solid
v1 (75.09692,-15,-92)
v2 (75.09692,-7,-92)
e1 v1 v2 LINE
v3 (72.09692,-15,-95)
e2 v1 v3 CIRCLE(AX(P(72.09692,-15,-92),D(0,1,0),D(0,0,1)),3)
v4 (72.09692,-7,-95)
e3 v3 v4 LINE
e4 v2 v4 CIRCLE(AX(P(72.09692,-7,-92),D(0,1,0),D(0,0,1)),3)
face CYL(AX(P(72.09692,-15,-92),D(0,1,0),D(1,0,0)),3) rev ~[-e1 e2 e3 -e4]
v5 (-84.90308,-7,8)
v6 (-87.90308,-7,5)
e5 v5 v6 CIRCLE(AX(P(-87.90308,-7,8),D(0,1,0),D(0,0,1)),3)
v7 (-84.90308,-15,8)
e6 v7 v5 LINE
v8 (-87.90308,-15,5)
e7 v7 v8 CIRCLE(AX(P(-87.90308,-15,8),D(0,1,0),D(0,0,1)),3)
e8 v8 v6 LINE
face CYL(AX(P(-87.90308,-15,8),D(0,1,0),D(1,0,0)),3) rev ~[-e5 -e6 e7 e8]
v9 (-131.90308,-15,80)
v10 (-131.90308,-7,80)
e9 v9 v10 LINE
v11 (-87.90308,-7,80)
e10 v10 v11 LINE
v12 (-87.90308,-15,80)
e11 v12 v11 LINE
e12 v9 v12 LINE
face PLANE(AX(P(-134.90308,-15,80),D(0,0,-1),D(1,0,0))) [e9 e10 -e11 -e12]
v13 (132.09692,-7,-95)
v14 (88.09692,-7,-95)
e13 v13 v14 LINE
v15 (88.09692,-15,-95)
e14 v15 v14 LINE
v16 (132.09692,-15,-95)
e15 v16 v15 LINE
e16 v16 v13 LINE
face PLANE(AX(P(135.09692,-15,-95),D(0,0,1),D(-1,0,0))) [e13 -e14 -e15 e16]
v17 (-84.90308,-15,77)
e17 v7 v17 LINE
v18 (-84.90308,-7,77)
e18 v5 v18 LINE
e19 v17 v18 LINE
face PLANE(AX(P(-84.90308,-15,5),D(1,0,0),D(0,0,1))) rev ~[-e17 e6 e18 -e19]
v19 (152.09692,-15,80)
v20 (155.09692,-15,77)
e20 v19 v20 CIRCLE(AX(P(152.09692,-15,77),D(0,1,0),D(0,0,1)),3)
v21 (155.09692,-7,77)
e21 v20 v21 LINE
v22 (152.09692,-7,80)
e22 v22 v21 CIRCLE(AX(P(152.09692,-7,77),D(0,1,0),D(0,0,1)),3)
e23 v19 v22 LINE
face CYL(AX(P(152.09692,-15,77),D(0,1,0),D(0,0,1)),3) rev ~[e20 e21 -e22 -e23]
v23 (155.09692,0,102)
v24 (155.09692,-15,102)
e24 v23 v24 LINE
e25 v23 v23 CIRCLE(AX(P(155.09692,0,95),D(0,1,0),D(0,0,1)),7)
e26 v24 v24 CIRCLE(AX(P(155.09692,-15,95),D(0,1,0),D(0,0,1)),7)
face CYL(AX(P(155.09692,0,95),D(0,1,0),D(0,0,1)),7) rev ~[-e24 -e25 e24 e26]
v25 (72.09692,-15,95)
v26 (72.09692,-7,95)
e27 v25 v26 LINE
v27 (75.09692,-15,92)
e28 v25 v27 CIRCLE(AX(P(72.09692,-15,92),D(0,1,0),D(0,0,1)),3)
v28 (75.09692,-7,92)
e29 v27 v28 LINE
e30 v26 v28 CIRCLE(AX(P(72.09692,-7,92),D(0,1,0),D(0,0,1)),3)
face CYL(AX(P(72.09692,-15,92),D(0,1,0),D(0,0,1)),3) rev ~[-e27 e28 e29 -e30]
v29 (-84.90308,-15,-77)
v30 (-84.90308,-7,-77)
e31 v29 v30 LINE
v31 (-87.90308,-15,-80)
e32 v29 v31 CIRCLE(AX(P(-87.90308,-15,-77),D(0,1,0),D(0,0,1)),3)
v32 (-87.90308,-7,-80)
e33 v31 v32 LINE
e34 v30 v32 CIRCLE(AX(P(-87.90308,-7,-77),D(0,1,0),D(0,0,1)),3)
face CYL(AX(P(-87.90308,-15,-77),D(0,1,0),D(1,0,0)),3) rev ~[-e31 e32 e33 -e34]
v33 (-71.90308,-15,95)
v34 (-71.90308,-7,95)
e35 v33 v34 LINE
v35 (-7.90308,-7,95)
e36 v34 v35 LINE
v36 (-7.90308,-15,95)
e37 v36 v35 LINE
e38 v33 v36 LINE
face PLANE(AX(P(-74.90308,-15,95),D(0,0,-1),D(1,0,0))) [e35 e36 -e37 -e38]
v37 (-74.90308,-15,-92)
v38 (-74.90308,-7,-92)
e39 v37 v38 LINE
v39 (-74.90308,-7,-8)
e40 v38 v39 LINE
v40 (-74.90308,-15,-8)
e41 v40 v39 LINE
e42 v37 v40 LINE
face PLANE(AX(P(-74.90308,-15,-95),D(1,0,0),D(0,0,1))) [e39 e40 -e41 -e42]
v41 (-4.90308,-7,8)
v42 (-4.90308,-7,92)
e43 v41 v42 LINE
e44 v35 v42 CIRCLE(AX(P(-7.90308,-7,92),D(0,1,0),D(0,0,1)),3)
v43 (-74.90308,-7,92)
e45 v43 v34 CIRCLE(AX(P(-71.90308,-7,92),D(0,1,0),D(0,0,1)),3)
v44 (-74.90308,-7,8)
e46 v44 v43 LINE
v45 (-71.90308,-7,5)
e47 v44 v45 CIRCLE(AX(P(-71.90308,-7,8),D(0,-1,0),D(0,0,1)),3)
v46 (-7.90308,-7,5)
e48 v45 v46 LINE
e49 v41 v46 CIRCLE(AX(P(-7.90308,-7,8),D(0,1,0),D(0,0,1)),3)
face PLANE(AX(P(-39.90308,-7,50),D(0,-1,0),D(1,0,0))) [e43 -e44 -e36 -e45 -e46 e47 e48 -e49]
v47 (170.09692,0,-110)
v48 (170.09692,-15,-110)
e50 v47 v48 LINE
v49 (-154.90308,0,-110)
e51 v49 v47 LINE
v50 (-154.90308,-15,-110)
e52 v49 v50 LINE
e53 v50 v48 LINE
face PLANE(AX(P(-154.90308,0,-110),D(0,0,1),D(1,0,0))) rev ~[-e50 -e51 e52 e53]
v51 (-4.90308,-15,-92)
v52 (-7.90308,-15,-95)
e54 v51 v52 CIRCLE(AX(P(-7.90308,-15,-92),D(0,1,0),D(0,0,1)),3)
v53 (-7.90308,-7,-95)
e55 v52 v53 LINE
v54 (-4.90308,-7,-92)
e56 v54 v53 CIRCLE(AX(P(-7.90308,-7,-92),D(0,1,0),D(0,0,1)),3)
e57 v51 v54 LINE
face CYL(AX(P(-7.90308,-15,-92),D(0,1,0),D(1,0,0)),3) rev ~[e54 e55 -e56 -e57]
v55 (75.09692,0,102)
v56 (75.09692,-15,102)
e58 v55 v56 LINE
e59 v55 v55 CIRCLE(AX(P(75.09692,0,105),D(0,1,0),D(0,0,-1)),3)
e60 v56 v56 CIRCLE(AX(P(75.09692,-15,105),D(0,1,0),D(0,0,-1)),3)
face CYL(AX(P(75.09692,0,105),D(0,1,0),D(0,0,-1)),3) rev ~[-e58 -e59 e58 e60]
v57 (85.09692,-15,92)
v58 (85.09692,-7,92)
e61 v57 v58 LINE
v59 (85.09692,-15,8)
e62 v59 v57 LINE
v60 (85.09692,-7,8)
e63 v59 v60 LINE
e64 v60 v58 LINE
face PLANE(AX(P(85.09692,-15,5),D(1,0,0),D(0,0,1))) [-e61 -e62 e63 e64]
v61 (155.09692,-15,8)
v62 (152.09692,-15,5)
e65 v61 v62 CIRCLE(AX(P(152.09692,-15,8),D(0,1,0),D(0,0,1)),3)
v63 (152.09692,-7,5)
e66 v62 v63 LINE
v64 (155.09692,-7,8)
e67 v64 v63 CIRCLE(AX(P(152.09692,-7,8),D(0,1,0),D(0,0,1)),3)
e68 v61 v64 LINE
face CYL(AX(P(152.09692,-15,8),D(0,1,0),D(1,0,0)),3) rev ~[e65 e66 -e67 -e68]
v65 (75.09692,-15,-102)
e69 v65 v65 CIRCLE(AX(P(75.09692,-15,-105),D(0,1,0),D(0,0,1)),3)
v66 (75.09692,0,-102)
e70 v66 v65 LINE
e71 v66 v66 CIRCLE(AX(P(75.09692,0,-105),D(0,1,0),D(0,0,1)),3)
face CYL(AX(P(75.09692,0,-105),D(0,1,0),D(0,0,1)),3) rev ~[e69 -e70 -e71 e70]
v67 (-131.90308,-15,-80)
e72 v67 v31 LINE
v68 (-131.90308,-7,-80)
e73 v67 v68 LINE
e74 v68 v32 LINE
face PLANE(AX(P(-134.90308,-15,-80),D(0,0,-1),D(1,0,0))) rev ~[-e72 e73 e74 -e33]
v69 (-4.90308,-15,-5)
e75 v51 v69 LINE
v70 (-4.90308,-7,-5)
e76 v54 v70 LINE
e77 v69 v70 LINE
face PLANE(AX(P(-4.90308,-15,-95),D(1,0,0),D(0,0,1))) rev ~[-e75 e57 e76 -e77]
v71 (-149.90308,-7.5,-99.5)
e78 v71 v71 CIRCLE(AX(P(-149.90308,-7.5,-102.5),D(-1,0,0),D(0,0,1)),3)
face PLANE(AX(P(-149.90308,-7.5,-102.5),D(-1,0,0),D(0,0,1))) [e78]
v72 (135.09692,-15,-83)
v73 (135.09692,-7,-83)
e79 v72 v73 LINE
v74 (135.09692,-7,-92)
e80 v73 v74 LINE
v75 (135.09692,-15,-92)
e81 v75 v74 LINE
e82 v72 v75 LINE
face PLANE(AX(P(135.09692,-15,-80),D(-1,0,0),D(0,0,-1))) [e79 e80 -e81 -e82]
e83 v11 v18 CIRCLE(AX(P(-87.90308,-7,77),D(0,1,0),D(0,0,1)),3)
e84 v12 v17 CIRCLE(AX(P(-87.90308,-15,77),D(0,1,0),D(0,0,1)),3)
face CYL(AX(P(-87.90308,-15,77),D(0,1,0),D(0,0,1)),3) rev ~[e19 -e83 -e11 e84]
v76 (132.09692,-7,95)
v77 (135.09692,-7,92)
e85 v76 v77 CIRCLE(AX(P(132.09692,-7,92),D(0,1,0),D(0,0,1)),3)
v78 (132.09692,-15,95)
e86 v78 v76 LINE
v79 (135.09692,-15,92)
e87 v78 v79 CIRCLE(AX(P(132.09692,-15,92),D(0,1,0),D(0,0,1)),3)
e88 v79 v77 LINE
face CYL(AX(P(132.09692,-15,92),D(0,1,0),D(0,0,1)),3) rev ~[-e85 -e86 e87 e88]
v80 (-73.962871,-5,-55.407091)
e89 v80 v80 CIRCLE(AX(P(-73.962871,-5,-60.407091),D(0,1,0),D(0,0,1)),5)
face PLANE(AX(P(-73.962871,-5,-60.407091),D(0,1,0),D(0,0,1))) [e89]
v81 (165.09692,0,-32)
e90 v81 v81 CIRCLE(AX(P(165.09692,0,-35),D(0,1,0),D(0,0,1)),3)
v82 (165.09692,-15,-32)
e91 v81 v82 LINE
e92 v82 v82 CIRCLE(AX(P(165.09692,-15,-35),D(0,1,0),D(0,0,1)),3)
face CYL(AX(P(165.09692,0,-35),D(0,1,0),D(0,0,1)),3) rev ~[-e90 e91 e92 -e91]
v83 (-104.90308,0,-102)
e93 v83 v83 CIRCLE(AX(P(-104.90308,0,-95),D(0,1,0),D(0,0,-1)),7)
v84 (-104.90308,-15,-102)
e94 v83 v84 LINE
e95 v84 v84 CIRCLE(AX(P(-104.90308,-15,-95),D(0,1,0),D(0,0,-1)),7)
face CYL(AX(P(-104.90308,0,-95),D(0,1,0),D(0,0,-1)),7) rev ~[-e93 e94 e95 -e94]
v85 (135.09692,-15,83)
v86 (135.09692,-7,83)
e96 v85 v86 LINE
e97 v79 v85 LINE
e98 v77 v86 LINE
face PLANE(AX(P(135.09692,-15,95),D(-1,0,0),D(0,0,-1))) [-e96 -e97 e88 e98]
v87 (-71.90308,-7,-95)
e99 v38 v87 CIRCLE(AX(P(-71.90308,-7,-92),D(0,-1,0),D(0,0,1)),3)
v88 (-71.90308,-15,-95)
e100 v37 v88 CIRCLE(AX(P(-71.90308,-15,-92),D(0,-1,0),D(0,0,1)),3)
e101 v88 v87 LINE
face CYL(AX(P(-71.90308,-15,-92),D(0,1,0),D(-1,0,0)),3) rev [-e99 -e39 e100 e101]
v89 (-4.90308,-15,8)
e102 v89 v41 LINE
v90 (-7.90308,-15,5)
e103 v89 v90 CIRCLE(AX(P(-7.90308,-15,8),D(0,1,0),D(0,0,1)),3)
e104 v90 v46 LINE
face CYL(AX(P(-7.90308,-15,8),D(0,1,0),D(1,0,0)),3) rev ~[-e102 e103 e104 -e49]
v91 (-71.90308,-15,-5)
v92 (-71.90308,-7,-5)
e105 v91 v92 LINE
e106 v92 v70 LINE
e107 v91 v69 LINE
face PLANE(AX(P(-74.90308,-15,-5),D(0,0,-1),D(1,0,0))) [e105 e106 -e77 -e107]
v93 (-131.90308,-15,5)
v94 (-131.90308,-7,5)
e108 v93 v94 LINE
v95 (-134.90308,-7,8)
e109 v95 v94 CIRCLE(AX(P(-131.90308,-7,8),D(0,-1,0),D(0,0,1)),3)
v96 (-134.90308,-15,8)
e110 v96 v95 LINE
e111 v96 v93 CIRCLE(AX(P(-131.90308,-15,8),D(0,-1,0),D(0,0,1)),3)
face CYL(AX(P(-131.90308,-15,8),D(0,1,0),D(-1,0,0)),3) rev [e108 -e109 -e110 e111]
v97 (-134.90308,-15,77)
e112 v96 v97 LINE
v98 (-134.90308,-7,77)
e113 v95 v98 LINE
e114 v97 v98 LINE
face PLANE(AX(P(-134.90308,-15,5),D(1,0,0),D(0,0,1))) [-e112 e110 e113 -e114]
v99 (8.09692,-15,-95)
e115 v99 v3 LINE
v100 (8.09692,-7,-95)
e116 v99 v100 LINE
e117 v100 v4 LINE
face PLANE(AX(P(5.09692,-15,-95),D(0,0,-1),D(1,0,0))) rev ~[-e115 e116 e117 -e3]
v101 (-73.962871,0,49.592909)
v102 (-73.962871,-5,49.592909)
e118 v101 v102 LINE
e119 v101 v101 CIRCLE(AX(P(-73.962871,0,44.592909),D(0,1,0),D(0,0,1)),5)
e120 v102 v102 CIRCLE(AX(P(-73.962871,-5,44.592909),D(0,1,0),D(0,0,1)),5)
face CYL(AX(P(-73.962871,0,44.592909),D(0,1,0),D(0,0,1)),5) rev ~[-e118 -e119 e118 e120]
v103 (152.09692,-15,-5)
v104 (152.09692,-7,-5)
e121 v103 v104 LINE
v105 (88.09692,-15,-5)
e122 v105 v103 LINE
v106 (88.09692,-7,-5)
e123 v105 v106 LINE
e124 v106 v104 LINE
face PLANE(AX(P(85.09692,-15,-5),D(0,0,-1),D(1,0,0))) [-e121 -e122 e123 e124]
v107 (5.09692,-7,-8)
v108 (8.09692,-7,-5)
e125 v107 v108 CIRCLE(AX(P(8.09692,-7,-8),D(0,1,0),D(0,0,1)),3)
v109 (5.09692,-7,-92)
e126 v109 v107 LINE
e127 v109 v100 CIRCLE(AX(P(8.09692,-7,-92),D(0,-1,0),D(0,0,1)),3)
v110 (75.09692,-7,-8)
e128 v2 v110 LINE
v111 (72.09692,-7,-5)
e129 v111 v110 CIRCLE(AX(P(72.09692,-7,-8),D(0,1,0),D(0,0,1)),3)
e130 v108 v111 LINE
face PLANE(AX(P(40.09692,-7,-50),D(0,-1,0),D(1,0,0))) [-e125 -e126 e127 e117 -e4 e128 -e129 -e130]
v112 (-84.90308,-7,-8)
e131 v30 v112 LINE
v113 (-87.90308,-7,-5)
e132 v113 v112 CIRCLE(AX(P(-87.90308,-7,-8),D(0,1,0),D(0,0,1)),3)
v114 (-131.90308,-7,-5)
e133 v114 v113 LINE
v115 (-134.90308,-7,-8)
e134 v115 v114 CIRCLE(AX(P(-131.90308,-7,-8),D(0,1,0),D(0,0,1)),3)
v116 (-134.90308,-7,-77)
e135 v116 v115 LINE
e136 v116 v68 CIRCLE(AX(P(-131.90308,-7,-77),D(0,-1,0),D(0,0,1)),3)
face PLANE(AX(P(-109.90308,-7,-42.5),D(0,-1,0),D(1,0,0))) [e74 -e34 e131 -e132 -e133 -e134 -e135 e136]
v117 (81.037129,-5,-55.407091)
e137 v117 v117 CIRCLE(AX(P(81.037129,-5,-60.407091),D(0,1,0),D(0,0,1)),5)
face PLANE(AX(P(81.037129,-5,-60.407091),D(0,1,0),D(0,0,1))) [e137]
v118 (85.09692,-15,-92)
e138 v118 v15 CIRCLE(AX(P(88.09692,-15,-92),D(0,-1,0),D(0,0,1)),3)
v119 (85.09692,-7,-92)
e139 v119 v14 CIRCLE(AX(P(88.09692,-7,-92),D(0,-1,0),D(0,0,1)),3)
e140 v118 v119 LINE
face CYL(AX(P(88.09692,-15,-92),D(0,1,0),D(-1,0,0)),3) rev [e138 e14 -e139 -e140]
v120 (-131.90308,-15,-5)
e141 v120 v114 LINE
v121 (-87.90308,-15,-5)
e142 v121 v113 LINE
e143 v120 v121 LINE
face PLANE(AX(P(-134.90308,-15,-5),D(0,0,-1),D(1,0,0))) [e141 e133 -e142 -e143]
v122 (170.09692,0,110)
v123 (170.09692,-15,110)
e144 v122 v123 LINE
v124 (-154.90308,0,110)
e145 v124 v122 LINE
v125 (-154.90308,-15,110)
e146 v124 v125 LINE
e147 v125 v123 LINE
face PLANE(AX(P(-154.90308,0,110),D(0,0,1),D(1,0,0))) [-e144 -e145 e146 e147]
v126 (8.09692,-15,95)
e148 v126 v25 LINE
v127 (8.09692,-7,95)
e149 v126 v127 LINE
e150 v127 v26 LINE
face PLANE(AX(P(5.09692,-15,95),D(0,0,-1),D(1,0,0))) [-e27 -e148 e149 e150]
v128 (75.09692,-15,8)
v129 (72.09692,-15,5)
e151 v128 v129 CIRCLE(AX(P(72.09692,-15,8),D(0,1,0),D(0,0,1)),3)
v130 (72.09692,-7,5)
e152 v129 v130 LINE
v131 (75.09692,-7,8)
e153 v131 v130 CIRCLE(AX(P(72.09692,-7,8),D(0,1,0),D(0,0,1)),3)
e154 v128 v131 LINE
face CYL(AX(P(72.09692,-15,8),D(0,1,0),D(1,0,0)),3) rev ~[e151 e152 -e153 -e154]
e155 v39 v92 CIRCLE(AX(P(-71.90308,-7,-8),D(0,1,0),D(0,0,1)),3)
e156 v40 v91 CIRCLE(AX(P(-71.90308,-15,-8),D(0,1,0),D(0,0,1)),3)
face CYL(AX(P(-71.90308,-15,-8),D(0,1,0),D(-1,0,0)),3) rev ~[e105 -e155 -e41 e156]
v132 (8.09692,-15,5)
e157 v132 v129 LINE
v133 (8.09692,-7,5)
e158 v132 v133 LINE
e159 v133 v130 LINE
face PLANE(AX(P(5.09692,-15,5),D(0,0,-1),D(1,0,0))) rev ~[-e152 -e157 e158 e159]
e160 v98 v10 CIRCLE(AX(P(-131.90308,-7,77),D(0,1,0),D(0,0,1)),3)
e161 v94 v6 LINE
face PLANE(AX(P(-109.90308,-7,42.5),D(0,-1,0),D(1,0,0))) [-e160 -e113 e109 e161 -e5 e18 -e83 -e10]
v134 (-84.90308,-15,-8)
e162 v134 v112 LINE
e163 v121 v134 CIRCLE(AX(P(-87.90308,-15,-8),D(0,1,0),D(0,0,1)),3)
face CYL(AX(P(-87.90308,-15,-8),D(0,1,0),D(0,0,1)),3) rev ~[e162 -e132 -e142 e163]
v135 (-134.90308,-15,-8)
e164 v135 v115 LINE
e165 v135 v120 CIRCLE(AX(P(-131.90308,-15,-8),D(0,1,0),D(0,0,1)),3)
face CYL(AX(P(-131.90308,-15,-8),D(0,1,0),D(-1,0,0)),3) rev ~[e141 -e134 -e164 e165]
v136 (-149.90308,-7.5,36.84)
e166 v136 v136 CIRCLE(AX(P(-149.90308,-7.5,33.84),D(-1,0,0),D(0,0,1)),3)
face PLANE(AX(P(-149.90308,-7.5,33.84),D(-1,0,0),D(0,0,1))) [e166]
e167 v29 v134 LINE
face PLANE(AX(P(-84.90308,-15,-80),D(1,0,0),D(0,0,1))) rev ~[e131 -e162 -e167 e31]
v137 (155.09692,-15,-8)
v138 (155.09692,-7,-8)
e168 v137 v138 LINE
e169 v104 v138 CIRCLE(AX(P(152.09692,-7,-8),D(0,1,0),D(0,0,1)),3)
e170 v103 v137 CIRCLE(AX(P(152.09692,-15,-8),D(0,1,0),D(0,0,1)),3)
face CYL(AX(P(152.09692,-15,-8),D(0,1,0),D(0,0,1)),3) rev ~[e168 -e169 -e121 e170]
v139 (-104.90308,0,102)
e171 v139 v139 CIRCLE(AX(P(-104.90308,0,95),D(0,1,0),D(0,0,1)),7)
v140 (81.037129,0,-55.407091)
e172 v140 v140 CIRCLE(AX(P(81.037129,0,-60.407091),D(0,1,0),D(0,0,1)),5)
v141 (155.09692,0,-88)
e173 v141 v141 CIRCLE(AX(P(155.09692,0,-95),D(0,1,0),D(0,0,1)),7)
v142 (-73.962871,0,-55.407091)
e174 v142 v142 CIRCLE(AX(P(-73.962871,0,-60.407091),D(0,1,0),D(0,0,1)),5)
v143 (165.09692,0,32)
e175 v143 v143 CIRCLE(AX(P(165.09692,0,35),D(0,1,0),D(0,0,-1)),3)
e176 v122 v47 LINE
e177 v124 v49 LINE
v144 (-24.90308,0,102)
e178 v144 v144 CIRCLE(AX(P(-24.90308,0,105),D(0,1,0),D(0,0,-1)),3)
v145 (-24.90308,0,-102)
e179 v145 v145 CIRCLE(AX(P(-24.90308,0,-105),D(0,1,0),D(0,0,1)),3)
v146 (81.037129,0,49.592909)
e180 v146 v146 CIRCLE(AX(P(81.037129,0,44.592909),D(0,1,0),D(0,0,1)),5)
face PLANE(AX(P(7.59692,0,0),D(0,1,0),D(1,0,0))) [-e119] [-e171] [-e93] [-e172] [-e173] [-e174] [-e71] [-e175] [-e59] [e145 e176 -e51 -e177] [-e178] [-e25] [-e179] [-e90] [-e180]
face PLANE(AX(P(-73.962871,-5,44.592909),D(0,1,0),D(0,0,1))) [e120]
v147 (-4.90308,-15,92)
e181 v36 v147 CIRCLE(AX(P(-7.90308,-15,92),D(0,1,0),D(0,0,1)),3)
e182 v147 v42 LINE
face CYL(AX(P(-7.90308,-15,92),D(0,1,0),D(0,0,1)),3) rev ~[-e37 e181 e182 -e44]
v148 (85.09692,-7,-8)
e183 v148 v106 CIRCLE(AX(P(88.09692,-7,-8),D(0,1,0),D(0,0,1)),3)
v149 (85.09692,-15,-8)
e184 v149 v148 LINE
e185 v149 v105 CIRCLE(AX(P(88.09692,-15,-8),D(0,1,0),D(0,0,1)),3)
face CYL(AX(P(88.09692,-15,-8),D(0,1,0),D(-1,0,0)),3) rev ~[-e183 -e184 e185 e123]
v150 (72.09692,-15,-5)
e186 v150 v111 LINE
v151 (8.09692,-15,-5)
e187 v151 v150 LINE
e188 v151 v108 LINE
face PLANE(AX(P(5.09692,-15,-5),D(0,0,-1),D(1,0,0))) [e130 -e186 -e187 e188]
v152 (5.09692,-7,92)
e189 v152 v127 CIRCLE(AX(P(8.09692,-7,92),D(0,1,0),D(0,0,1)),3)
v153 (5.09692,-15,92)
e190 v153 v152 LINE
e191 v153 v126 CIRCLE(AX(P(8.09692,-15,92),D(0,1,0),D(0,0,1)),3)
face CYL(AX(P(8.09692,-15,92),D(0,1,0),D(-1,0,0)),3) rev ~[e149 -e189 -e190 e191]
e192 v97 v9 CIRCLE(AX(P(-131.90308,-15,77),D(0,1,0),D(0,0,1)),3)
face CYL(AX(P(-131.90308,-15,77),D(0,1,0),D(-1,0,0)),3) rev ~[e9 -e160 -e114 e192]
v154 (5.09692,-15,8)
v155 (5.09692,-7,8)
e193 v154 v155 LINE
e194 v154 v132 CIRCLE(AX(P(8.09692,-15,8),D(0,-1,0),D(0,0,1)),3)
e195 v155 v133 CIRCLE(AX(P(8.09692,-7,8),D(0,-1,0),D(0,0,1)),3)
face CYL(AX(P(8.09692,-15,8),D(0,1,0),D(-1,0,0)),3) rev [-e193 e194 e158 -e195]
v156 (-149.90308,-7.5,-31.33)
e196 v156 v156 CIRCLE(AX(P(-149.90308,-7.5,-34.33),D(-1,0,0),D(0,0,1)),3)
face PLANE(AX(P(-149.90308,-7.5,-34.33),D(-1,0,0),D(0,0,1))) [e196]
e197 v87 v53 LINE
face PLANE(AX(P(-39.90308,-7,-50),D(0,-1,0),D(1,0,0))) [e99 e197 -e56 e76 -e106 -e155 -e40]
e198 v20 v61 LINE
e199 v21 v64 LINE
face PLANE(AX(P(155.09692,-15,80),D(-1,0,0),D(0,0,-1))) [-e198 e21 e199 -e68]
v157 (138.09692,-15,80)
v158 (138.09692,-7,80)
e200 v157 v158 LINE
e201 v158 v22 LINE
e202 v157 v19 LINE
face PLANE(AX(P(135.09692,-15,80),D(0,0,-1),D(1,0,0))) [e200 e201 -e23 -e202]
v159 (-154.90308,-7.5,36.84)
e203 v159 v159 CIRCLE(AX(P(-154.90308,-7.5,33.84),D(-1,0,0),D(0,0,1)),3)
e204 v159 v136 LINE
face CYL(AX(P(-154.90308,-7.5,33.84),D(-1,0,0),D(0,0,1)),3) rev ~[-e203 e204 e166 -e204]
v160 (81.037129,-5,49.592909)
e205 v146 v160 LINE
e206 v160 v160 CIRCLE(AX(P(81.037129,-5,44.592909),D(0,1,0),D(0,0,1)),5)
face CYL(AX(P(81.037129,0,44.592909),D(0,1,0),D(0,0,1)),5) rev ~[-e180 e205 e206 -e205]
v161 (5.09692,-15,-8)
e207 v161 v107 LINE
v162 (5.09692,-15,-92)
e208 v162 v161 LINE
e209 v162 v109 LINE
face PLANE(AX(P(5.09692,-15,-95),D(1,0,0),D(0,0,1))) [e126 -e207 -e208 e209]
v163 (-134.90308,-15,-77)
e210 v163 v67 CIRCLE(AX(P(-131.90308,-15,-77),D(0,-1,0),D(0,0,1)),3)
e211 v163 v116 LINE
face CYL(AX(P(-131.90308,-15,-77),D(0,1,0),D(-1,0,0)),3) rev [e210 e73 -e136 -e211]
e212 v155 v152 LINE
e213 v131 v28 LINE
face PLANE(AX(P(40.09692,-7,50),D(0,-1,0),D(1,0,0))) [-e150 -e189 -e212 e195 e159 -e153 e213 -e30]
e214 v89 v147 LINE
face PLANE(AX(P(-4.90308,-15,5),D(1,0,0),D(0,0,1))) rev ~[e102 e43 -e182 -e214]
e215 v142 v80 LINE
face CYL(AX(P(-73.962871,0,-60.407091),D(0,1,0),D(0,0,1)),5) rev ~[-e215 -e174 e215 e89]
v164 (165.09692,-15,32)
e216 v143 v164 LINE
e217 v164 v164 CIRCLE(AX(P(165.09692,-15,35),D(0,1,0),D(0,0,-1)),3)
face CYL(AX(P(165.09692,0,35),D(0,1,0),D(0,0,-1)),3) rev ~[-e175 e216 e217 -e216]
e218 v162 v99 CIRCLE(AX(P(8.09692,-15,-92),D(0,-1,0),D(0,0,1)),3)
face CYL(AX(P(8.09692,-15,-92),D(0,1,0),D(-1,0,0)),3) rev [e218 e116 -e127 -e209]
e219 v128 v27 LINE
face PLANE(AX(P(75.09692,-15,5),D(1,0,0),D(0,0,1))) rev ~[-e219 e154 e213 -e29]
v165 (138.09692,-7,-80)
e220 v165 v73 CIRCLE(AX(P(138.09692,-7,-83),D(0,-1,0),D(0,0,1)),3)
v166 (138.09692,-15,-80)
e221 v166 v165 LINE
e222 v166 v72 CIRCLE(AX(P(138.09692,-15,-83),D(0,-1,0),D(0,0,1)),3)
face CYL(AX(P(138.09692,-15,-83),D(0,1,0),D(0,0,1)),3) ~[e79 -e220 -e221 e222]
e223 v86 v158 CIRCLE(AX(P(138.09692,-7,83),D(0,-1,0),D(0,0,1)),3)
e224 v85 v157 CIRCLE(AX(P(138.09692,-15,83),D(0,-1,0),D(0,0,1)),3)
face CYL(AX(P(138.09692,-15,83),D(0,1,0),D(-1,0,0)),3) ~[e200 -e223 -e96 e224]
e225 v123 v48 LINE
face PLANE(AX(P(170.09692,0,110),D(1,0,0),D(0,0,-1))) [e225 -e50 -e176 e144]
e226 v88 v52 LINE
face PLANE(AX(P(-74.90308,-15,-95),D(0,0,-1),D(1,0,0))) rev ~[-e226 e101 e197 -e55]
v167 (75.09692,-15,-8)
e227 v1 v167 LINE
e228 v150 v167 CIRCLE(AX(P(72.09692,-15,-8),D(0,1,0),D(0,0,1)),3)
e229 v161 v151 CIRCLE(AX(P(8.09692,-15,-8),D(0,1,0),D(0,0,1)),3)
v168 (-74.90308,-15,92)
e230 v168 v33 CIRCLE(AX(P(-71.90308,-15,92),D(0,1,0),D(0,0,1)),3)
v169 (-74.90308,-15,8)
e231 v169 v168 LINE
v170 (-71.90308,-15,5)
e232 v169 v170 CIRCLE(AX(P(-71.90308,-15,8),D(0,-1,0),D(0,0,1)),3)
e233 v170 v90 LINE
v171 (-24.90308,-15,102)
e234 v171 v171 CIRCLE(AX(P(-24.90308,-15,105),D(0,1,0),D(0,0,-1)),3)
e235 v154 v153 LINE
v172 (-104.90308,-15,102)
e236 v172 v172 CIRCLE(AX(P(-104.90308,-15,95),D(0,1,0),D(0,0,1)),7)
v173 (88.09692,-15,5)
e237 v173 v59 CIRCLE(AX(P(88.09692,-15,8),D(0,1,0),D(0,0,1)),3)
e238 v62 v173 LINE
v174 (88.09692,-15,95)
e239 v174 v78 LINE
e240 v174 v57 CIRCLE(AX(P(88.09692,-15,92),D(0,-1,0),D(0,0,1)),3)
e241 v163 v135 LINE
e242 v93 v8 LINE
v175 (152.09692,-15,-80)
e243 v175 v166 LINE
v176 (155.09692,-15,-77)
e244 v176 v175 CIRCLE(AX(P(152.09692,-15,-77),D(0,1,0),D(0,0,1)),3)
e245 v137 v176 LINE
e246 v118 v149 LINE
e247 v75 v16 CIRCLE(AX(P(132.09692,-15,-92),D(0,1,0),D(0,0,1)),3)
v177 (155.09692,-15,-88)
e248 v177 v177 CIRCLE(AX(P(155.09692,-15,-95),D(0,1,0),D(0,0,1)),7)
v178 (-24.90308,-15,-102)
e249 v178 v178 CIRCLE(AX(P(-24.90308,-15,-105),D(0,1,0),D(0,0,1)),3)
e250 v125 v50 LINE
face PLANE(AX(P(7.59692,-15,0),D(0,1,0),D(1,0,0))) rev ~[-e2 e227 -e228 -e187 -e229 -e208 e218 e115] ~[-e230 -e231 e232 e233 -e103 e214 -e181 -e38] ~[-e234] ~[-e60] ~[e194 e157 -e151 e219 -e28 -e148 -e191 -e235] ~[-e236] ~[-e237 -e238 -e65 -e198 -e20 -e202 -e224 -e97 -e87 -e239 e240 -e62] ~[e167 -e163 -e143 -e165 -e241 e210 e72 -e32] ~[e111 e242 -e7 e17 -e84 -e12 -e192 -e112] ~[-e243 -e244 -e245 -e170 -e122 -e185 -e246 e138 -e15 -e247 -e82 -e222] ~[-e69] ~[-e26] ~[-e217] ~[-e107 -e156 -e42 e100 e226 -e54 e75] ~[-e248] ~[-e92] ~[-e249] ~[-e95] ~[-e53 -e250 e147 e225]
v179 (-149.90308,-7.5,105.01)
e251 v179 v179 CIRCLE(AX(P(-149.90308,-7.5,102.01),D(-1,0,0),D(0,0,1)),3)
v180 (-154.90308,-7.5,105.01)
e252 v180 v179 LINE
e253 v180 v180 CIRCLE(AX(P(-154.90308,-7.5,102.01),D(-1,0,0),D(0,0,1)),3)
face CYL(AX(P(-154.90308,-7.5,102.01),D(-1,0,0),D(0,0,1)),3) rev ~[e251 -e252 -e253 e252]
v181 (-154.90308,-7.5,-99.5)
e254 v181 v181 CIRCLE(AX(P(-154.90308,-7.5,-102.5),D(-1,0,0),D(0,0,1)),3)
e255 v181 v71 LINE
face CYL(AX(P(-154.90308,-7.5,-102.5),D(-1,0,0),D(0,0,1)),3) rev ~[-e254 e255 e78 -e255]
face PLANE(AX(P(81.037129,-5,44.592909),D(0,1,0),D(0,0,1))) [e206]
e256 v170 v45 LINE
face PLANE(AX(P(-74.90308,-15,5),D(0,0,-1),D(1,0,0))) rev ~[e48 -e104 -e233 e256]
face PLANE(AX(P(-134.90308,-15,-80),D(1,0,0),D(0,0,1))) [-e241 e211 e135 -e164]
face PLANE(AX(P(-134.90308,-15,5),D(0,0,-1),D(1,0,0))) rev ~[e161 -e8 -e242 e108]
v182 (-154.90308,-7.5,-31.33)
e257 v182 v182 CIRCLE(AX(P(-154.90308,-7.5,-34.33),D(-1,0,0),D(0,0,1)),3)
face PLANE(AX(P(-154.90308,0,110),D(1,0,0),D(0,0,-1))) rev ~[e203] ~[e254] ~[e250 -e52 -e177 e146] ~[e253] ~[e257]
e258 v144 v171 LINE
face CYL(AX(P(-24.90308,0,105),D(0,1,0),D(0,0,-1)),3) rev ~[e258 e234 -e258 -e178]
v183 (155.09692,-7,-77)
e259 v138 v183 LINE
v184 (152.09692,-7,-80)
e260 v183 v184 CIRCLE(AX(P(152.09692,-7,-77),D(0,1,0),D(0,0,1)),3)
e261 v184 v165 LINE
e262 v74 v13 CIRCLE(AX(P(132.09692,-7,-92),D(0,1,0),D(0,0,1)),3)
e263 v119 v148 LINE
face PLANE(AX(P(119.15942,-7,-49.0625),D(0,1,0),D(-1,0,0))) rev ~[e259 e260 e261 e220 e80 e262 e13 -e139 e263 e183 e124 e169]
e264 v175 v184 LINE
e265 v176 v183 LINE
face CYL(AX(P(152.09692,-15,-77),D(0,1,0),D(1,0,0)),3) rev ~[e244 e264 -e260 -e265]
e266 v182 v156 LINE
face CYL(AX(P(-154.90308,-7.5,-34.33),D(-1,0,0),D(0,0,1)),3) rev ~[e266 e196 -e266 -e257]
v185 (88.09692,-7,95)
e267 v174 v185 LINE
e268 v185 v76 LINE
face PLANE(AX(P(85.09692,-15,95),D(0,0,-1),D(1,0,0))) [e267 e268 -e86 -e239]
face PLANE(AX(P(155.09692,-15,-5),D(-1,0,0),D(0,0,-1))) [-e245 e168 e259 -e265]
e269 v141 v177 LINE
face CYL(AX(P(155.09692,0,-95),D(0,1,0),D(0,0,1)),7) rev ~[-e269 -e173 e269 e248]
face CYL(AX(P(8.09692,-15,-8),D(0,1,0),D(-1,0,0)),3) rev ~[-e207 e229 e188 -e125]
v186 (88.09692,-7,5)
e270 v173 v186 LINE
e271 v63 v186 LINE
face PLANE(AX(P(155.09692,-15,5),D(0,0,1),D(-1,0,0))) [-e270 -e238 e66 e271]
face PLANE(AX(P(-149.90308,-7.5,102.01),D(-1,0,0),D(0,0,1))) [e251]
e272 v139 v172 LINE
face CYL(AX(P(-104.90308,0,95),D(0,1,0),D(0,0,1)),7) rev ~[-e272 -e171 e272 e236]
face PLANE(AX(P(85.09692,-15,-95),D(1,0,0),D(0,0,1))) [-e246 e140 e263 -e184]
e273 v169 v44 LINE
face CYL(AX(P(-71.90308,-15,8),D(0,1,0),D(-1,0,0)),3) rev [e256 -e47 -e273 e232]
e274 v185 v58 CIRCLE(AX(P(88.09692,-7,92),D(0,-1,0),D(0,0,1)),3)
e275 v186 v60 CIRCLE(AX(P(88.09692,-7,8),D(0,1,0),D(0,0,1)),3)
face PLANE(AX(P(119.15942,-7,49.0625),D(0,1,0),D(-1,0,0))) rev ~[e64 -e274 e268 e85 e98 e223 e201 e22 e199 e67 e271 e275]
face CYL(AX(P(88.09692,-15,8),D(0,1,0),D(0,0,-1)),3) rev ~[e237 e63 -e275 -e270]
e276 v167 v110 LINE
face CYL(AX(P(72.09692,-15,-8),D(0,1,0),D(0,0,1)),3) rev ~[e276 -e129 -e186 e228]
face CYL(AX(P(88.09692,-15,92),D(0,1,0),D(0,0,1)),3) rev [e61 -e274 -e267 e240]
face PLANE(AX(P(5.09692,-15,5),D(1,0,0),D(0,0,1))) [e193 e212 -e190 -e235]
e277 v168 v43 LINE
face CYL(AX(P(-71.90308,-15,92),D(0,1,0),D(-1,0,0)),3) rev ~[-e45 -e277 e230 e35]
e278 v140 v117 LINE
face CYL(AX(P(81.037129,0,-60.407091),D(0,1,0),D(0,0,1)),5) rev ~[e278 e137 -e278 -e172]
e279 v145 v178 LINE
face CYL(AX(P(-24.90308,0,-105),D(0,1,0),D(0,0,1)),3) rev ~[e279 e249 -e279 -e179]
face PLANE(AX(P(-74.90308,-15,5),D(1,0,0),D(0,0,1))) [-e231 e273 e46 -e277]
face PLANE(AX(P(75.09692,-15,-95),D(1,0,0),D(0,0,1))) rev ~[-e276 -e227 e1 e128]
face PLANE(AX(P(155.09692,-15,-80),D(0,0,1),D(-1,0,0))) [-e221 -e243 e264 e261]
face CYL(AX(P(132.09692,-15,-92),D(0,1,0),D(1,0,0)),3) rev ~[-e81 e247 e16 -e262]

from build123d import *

# Parameters (mm, degrees)
SKETCH2_W           = 325
SKETCH2_H           = 220
SKETCH2_R           = 7
SKETCH2_R_2         = 3
BOSS_EXTRUDE3_DEPTH = 15
SKETCH11_W          = 70
SKETCH11_H          = 90
SKETCH11_W_2        = 50
SKETCH11_H_2        = 75
CUT_EXTRUDE2_DEPTH  = 8
FILLET1_R           = 3
SKETCH4_R           = 5
CUT_EXTRUDE3_DEPTH  = 5
SKETCH12_R          = 3
CUT_EXTRUDE4_DEPTH  = 5


with BuildPart() as part:
    # Sketch2 → Boss-Extrude3 (new body)
    with BuildSketch(Plane(origin=(0, 0, 0), x_dir=(1, 0, 0), z_dir=(0, 1, 0))):
        with Locations((7.596919738, 0)):
            Rectangle(SKETCH2_W, SKETCH2_H)
        with Locations(Location((155.096919738, -95, 0), (0, 0, 270))):
            Circle(SKETCH2_R, mode=Mode.SUBTRACT)
        with Locations(Location((155.096919738, 95, 0), (0, 0, 270))):
            Circle(SKETCH2_R, mode=Mode.SUBTRACT)
        with Locations(Location((-104.903080262, -95, 0), (0, 0, 270))):
            Circle(SKETCH2_R, mode=Mode.SUBTRACT)
        with Locations(Location((-104.903080262, 95, 0), (0, 0, 90))):
            Circle(SKETCH2_R, mode=Mode.SUBTRACT)
        with Locations(Location((-24.903080262, 105, 0), (0, 0, 270))):
            Circle(SKETCH2_R_2, mode=Mode.SUBTRACT)
        with Locations(Location((75.096919738, 105, 0), (0, 0, 270))):
            Circle(SKETCH2_R_2, mode=Mode.SUBTRACT)
        with Locations(Location((75.096919738, -105, 0), (0, 0, 90))):
            Circle(SKETCH2_R_2, mode=Mode.SUBTRACT)
        with Locations(Location((-24.903080262, -105, 0), (0, 0, 90))):
            Circle(SKETCH2_R_2, mode=Mode.SUBTRACT)
        with Locations(Location((165.096919738, 35, 0), (0, 0, 270))):
            Circle(SKETCH2_R_2, mode=Mode.SUBTRACT)
        with Locations(Location((165.096919738, -35, 0), (0, 0, 90))):
            Circle(SKETCH2_R_2, mode=Mode.SUBTRACT)
    extrude(amount=-BOSS_EXTRUDE3_DEPTH)

    # Sketch11 → Cut-Extrude2 (cut)
    with BuildSketch(Plane.XZ.offset(15)):
        with Locations((-39.903080262, 50)):
            Rectangle(SKETCH11_W, SKETCH11_H)
        with Locations((40.096919738, 50)):
            Rectangle(SKETCH11_W, SKETCH11_H)
        Polygon((85.096919738, 95), (135.096919738, 95), (135.096919738, 80), (155.096919738, 80), (155.096919738, 5), (85.096919738, 5), align=None)
        Polygon((85.096919738, -95), (85.096919738, -5), (155.096919738, -5), (155.096919738, -80), (135.096919738, -80), (135.096919738, -95), align=None)
        with Locations((40.096919738, -50)):
            Rectangle(SKETCH11_W, SKETCH11_H)
        with Locations((-39.903080262, -50)):
            Rectangle(SKETCH11_W, SKETCH11_H)
        with Locations((-109.903080262, -42.5)):
            Rectangle(SKETCH11_W_2, SKETCH11_H_2)
        with Locations((-109.903080262, 42.5)):
            Rectangle(SKETCH11_W_2, SKETCH11_H_2)
    extrude(amount=-CUT_EXTRUDE2_DEPTH, mode=Mode.SUBTRACT)

    # Fillet1
    fillet1_edges = [part.edges().sort_by_distance(p)[0] for p in [
        (85.096919738, -11, 95),
        (135.096919738, -11, 95),
        (135.096919738, -11, 80),
        (155.096919738, -11, 80),
        (155.096919738, -11, 5),
        (85.096919738, -11, 5),
        (75.096919738, -11, 5),
        (5.096919738, -11, 5),
        (5.096919738, -11, 95),
        (75.096919738, -11, 95),
        (-4.903080262, -11, 5),
        (-74.903080262, -11, 5),
        (-74.903080262, -11, 95),
        (-4.903080262, -11, 95),
        (-84.903080262, -11, 5),
        (-134.903080262, -11, 5),
        (-134.903080262, -11, 80),
        (-84.903080262, -11, 80),
        (-84.903080262, -11, -80),
        (-134.903080262, -11, -80),
        (-134.903080262, -11, -5),
        (-84.903080262, -11, -5),
        (-4.903080262, -11, -95),
        (-74.903080262, -11, -95),
        (-74.903080262, -11, -5),
        (75.096919738, -11, -95),
        (5.096919738, -11, -95),
        (5.096919738, -11, -5),
        (75.096919738, -11, -5),
        (85.096919738, -11, -95),
        (85.096919738, -11, -5),
        (155.096919738, -11, -5),
        (155.096919738, -11, -80),
        (135.096919738, -11, -80),
        (135.096919738, -11, -95),
    ]]
    fillet(fillet1_edges, radius=FILLET1_R)

    # Sketch4 → Cut-Extrude3 (cut)
    with BuildSketch(Plane(origin=(0, 0, 0), x_dir=(1, 0, 0), z_dir=(0, 1, 0))):
        with Locations(Location((-73.96287117, -44.592908869, 0), (0, 0, 270))):
            Circle(SKETCH4_R)
        with Locations(Location((81.03712883, -44.592908869, 0), (0, 0, 270))):
            Circle(SKETCH4_R)
        with Locations(Location((81.03712883, 60.407091131, 0), (0, 0, 270))):
            Circle(SKETCH4_R)
        with Locations(Location((-73.96287117, 60.407091131, 0), (0, 0, 270))):
            Circle(SKETCH4_R)
    extrude(amount=-CUT_EXTRUDE3_DEPTH, mode=Mode.SUBTRACT)

    # Sketch12 → Cut-Extrude4 (cut)
    with BuildSketch(Plane.ZY.offset(154.903080262)):
        with Locations((-102.5, -7.5)):
            Circle(SKETCH12_R)
        with Locations((-34.33, -7.5)):
            Circle(SKETCH12_R)
        with Locations((33.84, -7.5)):
            Circle(SKETCH12_R)
        with Locations((102.01, -7.5)):
            Circle(SKETCH12_R)
    extrude(amount=-CUT_EXTRUDE4_DEPTH, mode=Mode.SUBTRACT)


solid = part.part
